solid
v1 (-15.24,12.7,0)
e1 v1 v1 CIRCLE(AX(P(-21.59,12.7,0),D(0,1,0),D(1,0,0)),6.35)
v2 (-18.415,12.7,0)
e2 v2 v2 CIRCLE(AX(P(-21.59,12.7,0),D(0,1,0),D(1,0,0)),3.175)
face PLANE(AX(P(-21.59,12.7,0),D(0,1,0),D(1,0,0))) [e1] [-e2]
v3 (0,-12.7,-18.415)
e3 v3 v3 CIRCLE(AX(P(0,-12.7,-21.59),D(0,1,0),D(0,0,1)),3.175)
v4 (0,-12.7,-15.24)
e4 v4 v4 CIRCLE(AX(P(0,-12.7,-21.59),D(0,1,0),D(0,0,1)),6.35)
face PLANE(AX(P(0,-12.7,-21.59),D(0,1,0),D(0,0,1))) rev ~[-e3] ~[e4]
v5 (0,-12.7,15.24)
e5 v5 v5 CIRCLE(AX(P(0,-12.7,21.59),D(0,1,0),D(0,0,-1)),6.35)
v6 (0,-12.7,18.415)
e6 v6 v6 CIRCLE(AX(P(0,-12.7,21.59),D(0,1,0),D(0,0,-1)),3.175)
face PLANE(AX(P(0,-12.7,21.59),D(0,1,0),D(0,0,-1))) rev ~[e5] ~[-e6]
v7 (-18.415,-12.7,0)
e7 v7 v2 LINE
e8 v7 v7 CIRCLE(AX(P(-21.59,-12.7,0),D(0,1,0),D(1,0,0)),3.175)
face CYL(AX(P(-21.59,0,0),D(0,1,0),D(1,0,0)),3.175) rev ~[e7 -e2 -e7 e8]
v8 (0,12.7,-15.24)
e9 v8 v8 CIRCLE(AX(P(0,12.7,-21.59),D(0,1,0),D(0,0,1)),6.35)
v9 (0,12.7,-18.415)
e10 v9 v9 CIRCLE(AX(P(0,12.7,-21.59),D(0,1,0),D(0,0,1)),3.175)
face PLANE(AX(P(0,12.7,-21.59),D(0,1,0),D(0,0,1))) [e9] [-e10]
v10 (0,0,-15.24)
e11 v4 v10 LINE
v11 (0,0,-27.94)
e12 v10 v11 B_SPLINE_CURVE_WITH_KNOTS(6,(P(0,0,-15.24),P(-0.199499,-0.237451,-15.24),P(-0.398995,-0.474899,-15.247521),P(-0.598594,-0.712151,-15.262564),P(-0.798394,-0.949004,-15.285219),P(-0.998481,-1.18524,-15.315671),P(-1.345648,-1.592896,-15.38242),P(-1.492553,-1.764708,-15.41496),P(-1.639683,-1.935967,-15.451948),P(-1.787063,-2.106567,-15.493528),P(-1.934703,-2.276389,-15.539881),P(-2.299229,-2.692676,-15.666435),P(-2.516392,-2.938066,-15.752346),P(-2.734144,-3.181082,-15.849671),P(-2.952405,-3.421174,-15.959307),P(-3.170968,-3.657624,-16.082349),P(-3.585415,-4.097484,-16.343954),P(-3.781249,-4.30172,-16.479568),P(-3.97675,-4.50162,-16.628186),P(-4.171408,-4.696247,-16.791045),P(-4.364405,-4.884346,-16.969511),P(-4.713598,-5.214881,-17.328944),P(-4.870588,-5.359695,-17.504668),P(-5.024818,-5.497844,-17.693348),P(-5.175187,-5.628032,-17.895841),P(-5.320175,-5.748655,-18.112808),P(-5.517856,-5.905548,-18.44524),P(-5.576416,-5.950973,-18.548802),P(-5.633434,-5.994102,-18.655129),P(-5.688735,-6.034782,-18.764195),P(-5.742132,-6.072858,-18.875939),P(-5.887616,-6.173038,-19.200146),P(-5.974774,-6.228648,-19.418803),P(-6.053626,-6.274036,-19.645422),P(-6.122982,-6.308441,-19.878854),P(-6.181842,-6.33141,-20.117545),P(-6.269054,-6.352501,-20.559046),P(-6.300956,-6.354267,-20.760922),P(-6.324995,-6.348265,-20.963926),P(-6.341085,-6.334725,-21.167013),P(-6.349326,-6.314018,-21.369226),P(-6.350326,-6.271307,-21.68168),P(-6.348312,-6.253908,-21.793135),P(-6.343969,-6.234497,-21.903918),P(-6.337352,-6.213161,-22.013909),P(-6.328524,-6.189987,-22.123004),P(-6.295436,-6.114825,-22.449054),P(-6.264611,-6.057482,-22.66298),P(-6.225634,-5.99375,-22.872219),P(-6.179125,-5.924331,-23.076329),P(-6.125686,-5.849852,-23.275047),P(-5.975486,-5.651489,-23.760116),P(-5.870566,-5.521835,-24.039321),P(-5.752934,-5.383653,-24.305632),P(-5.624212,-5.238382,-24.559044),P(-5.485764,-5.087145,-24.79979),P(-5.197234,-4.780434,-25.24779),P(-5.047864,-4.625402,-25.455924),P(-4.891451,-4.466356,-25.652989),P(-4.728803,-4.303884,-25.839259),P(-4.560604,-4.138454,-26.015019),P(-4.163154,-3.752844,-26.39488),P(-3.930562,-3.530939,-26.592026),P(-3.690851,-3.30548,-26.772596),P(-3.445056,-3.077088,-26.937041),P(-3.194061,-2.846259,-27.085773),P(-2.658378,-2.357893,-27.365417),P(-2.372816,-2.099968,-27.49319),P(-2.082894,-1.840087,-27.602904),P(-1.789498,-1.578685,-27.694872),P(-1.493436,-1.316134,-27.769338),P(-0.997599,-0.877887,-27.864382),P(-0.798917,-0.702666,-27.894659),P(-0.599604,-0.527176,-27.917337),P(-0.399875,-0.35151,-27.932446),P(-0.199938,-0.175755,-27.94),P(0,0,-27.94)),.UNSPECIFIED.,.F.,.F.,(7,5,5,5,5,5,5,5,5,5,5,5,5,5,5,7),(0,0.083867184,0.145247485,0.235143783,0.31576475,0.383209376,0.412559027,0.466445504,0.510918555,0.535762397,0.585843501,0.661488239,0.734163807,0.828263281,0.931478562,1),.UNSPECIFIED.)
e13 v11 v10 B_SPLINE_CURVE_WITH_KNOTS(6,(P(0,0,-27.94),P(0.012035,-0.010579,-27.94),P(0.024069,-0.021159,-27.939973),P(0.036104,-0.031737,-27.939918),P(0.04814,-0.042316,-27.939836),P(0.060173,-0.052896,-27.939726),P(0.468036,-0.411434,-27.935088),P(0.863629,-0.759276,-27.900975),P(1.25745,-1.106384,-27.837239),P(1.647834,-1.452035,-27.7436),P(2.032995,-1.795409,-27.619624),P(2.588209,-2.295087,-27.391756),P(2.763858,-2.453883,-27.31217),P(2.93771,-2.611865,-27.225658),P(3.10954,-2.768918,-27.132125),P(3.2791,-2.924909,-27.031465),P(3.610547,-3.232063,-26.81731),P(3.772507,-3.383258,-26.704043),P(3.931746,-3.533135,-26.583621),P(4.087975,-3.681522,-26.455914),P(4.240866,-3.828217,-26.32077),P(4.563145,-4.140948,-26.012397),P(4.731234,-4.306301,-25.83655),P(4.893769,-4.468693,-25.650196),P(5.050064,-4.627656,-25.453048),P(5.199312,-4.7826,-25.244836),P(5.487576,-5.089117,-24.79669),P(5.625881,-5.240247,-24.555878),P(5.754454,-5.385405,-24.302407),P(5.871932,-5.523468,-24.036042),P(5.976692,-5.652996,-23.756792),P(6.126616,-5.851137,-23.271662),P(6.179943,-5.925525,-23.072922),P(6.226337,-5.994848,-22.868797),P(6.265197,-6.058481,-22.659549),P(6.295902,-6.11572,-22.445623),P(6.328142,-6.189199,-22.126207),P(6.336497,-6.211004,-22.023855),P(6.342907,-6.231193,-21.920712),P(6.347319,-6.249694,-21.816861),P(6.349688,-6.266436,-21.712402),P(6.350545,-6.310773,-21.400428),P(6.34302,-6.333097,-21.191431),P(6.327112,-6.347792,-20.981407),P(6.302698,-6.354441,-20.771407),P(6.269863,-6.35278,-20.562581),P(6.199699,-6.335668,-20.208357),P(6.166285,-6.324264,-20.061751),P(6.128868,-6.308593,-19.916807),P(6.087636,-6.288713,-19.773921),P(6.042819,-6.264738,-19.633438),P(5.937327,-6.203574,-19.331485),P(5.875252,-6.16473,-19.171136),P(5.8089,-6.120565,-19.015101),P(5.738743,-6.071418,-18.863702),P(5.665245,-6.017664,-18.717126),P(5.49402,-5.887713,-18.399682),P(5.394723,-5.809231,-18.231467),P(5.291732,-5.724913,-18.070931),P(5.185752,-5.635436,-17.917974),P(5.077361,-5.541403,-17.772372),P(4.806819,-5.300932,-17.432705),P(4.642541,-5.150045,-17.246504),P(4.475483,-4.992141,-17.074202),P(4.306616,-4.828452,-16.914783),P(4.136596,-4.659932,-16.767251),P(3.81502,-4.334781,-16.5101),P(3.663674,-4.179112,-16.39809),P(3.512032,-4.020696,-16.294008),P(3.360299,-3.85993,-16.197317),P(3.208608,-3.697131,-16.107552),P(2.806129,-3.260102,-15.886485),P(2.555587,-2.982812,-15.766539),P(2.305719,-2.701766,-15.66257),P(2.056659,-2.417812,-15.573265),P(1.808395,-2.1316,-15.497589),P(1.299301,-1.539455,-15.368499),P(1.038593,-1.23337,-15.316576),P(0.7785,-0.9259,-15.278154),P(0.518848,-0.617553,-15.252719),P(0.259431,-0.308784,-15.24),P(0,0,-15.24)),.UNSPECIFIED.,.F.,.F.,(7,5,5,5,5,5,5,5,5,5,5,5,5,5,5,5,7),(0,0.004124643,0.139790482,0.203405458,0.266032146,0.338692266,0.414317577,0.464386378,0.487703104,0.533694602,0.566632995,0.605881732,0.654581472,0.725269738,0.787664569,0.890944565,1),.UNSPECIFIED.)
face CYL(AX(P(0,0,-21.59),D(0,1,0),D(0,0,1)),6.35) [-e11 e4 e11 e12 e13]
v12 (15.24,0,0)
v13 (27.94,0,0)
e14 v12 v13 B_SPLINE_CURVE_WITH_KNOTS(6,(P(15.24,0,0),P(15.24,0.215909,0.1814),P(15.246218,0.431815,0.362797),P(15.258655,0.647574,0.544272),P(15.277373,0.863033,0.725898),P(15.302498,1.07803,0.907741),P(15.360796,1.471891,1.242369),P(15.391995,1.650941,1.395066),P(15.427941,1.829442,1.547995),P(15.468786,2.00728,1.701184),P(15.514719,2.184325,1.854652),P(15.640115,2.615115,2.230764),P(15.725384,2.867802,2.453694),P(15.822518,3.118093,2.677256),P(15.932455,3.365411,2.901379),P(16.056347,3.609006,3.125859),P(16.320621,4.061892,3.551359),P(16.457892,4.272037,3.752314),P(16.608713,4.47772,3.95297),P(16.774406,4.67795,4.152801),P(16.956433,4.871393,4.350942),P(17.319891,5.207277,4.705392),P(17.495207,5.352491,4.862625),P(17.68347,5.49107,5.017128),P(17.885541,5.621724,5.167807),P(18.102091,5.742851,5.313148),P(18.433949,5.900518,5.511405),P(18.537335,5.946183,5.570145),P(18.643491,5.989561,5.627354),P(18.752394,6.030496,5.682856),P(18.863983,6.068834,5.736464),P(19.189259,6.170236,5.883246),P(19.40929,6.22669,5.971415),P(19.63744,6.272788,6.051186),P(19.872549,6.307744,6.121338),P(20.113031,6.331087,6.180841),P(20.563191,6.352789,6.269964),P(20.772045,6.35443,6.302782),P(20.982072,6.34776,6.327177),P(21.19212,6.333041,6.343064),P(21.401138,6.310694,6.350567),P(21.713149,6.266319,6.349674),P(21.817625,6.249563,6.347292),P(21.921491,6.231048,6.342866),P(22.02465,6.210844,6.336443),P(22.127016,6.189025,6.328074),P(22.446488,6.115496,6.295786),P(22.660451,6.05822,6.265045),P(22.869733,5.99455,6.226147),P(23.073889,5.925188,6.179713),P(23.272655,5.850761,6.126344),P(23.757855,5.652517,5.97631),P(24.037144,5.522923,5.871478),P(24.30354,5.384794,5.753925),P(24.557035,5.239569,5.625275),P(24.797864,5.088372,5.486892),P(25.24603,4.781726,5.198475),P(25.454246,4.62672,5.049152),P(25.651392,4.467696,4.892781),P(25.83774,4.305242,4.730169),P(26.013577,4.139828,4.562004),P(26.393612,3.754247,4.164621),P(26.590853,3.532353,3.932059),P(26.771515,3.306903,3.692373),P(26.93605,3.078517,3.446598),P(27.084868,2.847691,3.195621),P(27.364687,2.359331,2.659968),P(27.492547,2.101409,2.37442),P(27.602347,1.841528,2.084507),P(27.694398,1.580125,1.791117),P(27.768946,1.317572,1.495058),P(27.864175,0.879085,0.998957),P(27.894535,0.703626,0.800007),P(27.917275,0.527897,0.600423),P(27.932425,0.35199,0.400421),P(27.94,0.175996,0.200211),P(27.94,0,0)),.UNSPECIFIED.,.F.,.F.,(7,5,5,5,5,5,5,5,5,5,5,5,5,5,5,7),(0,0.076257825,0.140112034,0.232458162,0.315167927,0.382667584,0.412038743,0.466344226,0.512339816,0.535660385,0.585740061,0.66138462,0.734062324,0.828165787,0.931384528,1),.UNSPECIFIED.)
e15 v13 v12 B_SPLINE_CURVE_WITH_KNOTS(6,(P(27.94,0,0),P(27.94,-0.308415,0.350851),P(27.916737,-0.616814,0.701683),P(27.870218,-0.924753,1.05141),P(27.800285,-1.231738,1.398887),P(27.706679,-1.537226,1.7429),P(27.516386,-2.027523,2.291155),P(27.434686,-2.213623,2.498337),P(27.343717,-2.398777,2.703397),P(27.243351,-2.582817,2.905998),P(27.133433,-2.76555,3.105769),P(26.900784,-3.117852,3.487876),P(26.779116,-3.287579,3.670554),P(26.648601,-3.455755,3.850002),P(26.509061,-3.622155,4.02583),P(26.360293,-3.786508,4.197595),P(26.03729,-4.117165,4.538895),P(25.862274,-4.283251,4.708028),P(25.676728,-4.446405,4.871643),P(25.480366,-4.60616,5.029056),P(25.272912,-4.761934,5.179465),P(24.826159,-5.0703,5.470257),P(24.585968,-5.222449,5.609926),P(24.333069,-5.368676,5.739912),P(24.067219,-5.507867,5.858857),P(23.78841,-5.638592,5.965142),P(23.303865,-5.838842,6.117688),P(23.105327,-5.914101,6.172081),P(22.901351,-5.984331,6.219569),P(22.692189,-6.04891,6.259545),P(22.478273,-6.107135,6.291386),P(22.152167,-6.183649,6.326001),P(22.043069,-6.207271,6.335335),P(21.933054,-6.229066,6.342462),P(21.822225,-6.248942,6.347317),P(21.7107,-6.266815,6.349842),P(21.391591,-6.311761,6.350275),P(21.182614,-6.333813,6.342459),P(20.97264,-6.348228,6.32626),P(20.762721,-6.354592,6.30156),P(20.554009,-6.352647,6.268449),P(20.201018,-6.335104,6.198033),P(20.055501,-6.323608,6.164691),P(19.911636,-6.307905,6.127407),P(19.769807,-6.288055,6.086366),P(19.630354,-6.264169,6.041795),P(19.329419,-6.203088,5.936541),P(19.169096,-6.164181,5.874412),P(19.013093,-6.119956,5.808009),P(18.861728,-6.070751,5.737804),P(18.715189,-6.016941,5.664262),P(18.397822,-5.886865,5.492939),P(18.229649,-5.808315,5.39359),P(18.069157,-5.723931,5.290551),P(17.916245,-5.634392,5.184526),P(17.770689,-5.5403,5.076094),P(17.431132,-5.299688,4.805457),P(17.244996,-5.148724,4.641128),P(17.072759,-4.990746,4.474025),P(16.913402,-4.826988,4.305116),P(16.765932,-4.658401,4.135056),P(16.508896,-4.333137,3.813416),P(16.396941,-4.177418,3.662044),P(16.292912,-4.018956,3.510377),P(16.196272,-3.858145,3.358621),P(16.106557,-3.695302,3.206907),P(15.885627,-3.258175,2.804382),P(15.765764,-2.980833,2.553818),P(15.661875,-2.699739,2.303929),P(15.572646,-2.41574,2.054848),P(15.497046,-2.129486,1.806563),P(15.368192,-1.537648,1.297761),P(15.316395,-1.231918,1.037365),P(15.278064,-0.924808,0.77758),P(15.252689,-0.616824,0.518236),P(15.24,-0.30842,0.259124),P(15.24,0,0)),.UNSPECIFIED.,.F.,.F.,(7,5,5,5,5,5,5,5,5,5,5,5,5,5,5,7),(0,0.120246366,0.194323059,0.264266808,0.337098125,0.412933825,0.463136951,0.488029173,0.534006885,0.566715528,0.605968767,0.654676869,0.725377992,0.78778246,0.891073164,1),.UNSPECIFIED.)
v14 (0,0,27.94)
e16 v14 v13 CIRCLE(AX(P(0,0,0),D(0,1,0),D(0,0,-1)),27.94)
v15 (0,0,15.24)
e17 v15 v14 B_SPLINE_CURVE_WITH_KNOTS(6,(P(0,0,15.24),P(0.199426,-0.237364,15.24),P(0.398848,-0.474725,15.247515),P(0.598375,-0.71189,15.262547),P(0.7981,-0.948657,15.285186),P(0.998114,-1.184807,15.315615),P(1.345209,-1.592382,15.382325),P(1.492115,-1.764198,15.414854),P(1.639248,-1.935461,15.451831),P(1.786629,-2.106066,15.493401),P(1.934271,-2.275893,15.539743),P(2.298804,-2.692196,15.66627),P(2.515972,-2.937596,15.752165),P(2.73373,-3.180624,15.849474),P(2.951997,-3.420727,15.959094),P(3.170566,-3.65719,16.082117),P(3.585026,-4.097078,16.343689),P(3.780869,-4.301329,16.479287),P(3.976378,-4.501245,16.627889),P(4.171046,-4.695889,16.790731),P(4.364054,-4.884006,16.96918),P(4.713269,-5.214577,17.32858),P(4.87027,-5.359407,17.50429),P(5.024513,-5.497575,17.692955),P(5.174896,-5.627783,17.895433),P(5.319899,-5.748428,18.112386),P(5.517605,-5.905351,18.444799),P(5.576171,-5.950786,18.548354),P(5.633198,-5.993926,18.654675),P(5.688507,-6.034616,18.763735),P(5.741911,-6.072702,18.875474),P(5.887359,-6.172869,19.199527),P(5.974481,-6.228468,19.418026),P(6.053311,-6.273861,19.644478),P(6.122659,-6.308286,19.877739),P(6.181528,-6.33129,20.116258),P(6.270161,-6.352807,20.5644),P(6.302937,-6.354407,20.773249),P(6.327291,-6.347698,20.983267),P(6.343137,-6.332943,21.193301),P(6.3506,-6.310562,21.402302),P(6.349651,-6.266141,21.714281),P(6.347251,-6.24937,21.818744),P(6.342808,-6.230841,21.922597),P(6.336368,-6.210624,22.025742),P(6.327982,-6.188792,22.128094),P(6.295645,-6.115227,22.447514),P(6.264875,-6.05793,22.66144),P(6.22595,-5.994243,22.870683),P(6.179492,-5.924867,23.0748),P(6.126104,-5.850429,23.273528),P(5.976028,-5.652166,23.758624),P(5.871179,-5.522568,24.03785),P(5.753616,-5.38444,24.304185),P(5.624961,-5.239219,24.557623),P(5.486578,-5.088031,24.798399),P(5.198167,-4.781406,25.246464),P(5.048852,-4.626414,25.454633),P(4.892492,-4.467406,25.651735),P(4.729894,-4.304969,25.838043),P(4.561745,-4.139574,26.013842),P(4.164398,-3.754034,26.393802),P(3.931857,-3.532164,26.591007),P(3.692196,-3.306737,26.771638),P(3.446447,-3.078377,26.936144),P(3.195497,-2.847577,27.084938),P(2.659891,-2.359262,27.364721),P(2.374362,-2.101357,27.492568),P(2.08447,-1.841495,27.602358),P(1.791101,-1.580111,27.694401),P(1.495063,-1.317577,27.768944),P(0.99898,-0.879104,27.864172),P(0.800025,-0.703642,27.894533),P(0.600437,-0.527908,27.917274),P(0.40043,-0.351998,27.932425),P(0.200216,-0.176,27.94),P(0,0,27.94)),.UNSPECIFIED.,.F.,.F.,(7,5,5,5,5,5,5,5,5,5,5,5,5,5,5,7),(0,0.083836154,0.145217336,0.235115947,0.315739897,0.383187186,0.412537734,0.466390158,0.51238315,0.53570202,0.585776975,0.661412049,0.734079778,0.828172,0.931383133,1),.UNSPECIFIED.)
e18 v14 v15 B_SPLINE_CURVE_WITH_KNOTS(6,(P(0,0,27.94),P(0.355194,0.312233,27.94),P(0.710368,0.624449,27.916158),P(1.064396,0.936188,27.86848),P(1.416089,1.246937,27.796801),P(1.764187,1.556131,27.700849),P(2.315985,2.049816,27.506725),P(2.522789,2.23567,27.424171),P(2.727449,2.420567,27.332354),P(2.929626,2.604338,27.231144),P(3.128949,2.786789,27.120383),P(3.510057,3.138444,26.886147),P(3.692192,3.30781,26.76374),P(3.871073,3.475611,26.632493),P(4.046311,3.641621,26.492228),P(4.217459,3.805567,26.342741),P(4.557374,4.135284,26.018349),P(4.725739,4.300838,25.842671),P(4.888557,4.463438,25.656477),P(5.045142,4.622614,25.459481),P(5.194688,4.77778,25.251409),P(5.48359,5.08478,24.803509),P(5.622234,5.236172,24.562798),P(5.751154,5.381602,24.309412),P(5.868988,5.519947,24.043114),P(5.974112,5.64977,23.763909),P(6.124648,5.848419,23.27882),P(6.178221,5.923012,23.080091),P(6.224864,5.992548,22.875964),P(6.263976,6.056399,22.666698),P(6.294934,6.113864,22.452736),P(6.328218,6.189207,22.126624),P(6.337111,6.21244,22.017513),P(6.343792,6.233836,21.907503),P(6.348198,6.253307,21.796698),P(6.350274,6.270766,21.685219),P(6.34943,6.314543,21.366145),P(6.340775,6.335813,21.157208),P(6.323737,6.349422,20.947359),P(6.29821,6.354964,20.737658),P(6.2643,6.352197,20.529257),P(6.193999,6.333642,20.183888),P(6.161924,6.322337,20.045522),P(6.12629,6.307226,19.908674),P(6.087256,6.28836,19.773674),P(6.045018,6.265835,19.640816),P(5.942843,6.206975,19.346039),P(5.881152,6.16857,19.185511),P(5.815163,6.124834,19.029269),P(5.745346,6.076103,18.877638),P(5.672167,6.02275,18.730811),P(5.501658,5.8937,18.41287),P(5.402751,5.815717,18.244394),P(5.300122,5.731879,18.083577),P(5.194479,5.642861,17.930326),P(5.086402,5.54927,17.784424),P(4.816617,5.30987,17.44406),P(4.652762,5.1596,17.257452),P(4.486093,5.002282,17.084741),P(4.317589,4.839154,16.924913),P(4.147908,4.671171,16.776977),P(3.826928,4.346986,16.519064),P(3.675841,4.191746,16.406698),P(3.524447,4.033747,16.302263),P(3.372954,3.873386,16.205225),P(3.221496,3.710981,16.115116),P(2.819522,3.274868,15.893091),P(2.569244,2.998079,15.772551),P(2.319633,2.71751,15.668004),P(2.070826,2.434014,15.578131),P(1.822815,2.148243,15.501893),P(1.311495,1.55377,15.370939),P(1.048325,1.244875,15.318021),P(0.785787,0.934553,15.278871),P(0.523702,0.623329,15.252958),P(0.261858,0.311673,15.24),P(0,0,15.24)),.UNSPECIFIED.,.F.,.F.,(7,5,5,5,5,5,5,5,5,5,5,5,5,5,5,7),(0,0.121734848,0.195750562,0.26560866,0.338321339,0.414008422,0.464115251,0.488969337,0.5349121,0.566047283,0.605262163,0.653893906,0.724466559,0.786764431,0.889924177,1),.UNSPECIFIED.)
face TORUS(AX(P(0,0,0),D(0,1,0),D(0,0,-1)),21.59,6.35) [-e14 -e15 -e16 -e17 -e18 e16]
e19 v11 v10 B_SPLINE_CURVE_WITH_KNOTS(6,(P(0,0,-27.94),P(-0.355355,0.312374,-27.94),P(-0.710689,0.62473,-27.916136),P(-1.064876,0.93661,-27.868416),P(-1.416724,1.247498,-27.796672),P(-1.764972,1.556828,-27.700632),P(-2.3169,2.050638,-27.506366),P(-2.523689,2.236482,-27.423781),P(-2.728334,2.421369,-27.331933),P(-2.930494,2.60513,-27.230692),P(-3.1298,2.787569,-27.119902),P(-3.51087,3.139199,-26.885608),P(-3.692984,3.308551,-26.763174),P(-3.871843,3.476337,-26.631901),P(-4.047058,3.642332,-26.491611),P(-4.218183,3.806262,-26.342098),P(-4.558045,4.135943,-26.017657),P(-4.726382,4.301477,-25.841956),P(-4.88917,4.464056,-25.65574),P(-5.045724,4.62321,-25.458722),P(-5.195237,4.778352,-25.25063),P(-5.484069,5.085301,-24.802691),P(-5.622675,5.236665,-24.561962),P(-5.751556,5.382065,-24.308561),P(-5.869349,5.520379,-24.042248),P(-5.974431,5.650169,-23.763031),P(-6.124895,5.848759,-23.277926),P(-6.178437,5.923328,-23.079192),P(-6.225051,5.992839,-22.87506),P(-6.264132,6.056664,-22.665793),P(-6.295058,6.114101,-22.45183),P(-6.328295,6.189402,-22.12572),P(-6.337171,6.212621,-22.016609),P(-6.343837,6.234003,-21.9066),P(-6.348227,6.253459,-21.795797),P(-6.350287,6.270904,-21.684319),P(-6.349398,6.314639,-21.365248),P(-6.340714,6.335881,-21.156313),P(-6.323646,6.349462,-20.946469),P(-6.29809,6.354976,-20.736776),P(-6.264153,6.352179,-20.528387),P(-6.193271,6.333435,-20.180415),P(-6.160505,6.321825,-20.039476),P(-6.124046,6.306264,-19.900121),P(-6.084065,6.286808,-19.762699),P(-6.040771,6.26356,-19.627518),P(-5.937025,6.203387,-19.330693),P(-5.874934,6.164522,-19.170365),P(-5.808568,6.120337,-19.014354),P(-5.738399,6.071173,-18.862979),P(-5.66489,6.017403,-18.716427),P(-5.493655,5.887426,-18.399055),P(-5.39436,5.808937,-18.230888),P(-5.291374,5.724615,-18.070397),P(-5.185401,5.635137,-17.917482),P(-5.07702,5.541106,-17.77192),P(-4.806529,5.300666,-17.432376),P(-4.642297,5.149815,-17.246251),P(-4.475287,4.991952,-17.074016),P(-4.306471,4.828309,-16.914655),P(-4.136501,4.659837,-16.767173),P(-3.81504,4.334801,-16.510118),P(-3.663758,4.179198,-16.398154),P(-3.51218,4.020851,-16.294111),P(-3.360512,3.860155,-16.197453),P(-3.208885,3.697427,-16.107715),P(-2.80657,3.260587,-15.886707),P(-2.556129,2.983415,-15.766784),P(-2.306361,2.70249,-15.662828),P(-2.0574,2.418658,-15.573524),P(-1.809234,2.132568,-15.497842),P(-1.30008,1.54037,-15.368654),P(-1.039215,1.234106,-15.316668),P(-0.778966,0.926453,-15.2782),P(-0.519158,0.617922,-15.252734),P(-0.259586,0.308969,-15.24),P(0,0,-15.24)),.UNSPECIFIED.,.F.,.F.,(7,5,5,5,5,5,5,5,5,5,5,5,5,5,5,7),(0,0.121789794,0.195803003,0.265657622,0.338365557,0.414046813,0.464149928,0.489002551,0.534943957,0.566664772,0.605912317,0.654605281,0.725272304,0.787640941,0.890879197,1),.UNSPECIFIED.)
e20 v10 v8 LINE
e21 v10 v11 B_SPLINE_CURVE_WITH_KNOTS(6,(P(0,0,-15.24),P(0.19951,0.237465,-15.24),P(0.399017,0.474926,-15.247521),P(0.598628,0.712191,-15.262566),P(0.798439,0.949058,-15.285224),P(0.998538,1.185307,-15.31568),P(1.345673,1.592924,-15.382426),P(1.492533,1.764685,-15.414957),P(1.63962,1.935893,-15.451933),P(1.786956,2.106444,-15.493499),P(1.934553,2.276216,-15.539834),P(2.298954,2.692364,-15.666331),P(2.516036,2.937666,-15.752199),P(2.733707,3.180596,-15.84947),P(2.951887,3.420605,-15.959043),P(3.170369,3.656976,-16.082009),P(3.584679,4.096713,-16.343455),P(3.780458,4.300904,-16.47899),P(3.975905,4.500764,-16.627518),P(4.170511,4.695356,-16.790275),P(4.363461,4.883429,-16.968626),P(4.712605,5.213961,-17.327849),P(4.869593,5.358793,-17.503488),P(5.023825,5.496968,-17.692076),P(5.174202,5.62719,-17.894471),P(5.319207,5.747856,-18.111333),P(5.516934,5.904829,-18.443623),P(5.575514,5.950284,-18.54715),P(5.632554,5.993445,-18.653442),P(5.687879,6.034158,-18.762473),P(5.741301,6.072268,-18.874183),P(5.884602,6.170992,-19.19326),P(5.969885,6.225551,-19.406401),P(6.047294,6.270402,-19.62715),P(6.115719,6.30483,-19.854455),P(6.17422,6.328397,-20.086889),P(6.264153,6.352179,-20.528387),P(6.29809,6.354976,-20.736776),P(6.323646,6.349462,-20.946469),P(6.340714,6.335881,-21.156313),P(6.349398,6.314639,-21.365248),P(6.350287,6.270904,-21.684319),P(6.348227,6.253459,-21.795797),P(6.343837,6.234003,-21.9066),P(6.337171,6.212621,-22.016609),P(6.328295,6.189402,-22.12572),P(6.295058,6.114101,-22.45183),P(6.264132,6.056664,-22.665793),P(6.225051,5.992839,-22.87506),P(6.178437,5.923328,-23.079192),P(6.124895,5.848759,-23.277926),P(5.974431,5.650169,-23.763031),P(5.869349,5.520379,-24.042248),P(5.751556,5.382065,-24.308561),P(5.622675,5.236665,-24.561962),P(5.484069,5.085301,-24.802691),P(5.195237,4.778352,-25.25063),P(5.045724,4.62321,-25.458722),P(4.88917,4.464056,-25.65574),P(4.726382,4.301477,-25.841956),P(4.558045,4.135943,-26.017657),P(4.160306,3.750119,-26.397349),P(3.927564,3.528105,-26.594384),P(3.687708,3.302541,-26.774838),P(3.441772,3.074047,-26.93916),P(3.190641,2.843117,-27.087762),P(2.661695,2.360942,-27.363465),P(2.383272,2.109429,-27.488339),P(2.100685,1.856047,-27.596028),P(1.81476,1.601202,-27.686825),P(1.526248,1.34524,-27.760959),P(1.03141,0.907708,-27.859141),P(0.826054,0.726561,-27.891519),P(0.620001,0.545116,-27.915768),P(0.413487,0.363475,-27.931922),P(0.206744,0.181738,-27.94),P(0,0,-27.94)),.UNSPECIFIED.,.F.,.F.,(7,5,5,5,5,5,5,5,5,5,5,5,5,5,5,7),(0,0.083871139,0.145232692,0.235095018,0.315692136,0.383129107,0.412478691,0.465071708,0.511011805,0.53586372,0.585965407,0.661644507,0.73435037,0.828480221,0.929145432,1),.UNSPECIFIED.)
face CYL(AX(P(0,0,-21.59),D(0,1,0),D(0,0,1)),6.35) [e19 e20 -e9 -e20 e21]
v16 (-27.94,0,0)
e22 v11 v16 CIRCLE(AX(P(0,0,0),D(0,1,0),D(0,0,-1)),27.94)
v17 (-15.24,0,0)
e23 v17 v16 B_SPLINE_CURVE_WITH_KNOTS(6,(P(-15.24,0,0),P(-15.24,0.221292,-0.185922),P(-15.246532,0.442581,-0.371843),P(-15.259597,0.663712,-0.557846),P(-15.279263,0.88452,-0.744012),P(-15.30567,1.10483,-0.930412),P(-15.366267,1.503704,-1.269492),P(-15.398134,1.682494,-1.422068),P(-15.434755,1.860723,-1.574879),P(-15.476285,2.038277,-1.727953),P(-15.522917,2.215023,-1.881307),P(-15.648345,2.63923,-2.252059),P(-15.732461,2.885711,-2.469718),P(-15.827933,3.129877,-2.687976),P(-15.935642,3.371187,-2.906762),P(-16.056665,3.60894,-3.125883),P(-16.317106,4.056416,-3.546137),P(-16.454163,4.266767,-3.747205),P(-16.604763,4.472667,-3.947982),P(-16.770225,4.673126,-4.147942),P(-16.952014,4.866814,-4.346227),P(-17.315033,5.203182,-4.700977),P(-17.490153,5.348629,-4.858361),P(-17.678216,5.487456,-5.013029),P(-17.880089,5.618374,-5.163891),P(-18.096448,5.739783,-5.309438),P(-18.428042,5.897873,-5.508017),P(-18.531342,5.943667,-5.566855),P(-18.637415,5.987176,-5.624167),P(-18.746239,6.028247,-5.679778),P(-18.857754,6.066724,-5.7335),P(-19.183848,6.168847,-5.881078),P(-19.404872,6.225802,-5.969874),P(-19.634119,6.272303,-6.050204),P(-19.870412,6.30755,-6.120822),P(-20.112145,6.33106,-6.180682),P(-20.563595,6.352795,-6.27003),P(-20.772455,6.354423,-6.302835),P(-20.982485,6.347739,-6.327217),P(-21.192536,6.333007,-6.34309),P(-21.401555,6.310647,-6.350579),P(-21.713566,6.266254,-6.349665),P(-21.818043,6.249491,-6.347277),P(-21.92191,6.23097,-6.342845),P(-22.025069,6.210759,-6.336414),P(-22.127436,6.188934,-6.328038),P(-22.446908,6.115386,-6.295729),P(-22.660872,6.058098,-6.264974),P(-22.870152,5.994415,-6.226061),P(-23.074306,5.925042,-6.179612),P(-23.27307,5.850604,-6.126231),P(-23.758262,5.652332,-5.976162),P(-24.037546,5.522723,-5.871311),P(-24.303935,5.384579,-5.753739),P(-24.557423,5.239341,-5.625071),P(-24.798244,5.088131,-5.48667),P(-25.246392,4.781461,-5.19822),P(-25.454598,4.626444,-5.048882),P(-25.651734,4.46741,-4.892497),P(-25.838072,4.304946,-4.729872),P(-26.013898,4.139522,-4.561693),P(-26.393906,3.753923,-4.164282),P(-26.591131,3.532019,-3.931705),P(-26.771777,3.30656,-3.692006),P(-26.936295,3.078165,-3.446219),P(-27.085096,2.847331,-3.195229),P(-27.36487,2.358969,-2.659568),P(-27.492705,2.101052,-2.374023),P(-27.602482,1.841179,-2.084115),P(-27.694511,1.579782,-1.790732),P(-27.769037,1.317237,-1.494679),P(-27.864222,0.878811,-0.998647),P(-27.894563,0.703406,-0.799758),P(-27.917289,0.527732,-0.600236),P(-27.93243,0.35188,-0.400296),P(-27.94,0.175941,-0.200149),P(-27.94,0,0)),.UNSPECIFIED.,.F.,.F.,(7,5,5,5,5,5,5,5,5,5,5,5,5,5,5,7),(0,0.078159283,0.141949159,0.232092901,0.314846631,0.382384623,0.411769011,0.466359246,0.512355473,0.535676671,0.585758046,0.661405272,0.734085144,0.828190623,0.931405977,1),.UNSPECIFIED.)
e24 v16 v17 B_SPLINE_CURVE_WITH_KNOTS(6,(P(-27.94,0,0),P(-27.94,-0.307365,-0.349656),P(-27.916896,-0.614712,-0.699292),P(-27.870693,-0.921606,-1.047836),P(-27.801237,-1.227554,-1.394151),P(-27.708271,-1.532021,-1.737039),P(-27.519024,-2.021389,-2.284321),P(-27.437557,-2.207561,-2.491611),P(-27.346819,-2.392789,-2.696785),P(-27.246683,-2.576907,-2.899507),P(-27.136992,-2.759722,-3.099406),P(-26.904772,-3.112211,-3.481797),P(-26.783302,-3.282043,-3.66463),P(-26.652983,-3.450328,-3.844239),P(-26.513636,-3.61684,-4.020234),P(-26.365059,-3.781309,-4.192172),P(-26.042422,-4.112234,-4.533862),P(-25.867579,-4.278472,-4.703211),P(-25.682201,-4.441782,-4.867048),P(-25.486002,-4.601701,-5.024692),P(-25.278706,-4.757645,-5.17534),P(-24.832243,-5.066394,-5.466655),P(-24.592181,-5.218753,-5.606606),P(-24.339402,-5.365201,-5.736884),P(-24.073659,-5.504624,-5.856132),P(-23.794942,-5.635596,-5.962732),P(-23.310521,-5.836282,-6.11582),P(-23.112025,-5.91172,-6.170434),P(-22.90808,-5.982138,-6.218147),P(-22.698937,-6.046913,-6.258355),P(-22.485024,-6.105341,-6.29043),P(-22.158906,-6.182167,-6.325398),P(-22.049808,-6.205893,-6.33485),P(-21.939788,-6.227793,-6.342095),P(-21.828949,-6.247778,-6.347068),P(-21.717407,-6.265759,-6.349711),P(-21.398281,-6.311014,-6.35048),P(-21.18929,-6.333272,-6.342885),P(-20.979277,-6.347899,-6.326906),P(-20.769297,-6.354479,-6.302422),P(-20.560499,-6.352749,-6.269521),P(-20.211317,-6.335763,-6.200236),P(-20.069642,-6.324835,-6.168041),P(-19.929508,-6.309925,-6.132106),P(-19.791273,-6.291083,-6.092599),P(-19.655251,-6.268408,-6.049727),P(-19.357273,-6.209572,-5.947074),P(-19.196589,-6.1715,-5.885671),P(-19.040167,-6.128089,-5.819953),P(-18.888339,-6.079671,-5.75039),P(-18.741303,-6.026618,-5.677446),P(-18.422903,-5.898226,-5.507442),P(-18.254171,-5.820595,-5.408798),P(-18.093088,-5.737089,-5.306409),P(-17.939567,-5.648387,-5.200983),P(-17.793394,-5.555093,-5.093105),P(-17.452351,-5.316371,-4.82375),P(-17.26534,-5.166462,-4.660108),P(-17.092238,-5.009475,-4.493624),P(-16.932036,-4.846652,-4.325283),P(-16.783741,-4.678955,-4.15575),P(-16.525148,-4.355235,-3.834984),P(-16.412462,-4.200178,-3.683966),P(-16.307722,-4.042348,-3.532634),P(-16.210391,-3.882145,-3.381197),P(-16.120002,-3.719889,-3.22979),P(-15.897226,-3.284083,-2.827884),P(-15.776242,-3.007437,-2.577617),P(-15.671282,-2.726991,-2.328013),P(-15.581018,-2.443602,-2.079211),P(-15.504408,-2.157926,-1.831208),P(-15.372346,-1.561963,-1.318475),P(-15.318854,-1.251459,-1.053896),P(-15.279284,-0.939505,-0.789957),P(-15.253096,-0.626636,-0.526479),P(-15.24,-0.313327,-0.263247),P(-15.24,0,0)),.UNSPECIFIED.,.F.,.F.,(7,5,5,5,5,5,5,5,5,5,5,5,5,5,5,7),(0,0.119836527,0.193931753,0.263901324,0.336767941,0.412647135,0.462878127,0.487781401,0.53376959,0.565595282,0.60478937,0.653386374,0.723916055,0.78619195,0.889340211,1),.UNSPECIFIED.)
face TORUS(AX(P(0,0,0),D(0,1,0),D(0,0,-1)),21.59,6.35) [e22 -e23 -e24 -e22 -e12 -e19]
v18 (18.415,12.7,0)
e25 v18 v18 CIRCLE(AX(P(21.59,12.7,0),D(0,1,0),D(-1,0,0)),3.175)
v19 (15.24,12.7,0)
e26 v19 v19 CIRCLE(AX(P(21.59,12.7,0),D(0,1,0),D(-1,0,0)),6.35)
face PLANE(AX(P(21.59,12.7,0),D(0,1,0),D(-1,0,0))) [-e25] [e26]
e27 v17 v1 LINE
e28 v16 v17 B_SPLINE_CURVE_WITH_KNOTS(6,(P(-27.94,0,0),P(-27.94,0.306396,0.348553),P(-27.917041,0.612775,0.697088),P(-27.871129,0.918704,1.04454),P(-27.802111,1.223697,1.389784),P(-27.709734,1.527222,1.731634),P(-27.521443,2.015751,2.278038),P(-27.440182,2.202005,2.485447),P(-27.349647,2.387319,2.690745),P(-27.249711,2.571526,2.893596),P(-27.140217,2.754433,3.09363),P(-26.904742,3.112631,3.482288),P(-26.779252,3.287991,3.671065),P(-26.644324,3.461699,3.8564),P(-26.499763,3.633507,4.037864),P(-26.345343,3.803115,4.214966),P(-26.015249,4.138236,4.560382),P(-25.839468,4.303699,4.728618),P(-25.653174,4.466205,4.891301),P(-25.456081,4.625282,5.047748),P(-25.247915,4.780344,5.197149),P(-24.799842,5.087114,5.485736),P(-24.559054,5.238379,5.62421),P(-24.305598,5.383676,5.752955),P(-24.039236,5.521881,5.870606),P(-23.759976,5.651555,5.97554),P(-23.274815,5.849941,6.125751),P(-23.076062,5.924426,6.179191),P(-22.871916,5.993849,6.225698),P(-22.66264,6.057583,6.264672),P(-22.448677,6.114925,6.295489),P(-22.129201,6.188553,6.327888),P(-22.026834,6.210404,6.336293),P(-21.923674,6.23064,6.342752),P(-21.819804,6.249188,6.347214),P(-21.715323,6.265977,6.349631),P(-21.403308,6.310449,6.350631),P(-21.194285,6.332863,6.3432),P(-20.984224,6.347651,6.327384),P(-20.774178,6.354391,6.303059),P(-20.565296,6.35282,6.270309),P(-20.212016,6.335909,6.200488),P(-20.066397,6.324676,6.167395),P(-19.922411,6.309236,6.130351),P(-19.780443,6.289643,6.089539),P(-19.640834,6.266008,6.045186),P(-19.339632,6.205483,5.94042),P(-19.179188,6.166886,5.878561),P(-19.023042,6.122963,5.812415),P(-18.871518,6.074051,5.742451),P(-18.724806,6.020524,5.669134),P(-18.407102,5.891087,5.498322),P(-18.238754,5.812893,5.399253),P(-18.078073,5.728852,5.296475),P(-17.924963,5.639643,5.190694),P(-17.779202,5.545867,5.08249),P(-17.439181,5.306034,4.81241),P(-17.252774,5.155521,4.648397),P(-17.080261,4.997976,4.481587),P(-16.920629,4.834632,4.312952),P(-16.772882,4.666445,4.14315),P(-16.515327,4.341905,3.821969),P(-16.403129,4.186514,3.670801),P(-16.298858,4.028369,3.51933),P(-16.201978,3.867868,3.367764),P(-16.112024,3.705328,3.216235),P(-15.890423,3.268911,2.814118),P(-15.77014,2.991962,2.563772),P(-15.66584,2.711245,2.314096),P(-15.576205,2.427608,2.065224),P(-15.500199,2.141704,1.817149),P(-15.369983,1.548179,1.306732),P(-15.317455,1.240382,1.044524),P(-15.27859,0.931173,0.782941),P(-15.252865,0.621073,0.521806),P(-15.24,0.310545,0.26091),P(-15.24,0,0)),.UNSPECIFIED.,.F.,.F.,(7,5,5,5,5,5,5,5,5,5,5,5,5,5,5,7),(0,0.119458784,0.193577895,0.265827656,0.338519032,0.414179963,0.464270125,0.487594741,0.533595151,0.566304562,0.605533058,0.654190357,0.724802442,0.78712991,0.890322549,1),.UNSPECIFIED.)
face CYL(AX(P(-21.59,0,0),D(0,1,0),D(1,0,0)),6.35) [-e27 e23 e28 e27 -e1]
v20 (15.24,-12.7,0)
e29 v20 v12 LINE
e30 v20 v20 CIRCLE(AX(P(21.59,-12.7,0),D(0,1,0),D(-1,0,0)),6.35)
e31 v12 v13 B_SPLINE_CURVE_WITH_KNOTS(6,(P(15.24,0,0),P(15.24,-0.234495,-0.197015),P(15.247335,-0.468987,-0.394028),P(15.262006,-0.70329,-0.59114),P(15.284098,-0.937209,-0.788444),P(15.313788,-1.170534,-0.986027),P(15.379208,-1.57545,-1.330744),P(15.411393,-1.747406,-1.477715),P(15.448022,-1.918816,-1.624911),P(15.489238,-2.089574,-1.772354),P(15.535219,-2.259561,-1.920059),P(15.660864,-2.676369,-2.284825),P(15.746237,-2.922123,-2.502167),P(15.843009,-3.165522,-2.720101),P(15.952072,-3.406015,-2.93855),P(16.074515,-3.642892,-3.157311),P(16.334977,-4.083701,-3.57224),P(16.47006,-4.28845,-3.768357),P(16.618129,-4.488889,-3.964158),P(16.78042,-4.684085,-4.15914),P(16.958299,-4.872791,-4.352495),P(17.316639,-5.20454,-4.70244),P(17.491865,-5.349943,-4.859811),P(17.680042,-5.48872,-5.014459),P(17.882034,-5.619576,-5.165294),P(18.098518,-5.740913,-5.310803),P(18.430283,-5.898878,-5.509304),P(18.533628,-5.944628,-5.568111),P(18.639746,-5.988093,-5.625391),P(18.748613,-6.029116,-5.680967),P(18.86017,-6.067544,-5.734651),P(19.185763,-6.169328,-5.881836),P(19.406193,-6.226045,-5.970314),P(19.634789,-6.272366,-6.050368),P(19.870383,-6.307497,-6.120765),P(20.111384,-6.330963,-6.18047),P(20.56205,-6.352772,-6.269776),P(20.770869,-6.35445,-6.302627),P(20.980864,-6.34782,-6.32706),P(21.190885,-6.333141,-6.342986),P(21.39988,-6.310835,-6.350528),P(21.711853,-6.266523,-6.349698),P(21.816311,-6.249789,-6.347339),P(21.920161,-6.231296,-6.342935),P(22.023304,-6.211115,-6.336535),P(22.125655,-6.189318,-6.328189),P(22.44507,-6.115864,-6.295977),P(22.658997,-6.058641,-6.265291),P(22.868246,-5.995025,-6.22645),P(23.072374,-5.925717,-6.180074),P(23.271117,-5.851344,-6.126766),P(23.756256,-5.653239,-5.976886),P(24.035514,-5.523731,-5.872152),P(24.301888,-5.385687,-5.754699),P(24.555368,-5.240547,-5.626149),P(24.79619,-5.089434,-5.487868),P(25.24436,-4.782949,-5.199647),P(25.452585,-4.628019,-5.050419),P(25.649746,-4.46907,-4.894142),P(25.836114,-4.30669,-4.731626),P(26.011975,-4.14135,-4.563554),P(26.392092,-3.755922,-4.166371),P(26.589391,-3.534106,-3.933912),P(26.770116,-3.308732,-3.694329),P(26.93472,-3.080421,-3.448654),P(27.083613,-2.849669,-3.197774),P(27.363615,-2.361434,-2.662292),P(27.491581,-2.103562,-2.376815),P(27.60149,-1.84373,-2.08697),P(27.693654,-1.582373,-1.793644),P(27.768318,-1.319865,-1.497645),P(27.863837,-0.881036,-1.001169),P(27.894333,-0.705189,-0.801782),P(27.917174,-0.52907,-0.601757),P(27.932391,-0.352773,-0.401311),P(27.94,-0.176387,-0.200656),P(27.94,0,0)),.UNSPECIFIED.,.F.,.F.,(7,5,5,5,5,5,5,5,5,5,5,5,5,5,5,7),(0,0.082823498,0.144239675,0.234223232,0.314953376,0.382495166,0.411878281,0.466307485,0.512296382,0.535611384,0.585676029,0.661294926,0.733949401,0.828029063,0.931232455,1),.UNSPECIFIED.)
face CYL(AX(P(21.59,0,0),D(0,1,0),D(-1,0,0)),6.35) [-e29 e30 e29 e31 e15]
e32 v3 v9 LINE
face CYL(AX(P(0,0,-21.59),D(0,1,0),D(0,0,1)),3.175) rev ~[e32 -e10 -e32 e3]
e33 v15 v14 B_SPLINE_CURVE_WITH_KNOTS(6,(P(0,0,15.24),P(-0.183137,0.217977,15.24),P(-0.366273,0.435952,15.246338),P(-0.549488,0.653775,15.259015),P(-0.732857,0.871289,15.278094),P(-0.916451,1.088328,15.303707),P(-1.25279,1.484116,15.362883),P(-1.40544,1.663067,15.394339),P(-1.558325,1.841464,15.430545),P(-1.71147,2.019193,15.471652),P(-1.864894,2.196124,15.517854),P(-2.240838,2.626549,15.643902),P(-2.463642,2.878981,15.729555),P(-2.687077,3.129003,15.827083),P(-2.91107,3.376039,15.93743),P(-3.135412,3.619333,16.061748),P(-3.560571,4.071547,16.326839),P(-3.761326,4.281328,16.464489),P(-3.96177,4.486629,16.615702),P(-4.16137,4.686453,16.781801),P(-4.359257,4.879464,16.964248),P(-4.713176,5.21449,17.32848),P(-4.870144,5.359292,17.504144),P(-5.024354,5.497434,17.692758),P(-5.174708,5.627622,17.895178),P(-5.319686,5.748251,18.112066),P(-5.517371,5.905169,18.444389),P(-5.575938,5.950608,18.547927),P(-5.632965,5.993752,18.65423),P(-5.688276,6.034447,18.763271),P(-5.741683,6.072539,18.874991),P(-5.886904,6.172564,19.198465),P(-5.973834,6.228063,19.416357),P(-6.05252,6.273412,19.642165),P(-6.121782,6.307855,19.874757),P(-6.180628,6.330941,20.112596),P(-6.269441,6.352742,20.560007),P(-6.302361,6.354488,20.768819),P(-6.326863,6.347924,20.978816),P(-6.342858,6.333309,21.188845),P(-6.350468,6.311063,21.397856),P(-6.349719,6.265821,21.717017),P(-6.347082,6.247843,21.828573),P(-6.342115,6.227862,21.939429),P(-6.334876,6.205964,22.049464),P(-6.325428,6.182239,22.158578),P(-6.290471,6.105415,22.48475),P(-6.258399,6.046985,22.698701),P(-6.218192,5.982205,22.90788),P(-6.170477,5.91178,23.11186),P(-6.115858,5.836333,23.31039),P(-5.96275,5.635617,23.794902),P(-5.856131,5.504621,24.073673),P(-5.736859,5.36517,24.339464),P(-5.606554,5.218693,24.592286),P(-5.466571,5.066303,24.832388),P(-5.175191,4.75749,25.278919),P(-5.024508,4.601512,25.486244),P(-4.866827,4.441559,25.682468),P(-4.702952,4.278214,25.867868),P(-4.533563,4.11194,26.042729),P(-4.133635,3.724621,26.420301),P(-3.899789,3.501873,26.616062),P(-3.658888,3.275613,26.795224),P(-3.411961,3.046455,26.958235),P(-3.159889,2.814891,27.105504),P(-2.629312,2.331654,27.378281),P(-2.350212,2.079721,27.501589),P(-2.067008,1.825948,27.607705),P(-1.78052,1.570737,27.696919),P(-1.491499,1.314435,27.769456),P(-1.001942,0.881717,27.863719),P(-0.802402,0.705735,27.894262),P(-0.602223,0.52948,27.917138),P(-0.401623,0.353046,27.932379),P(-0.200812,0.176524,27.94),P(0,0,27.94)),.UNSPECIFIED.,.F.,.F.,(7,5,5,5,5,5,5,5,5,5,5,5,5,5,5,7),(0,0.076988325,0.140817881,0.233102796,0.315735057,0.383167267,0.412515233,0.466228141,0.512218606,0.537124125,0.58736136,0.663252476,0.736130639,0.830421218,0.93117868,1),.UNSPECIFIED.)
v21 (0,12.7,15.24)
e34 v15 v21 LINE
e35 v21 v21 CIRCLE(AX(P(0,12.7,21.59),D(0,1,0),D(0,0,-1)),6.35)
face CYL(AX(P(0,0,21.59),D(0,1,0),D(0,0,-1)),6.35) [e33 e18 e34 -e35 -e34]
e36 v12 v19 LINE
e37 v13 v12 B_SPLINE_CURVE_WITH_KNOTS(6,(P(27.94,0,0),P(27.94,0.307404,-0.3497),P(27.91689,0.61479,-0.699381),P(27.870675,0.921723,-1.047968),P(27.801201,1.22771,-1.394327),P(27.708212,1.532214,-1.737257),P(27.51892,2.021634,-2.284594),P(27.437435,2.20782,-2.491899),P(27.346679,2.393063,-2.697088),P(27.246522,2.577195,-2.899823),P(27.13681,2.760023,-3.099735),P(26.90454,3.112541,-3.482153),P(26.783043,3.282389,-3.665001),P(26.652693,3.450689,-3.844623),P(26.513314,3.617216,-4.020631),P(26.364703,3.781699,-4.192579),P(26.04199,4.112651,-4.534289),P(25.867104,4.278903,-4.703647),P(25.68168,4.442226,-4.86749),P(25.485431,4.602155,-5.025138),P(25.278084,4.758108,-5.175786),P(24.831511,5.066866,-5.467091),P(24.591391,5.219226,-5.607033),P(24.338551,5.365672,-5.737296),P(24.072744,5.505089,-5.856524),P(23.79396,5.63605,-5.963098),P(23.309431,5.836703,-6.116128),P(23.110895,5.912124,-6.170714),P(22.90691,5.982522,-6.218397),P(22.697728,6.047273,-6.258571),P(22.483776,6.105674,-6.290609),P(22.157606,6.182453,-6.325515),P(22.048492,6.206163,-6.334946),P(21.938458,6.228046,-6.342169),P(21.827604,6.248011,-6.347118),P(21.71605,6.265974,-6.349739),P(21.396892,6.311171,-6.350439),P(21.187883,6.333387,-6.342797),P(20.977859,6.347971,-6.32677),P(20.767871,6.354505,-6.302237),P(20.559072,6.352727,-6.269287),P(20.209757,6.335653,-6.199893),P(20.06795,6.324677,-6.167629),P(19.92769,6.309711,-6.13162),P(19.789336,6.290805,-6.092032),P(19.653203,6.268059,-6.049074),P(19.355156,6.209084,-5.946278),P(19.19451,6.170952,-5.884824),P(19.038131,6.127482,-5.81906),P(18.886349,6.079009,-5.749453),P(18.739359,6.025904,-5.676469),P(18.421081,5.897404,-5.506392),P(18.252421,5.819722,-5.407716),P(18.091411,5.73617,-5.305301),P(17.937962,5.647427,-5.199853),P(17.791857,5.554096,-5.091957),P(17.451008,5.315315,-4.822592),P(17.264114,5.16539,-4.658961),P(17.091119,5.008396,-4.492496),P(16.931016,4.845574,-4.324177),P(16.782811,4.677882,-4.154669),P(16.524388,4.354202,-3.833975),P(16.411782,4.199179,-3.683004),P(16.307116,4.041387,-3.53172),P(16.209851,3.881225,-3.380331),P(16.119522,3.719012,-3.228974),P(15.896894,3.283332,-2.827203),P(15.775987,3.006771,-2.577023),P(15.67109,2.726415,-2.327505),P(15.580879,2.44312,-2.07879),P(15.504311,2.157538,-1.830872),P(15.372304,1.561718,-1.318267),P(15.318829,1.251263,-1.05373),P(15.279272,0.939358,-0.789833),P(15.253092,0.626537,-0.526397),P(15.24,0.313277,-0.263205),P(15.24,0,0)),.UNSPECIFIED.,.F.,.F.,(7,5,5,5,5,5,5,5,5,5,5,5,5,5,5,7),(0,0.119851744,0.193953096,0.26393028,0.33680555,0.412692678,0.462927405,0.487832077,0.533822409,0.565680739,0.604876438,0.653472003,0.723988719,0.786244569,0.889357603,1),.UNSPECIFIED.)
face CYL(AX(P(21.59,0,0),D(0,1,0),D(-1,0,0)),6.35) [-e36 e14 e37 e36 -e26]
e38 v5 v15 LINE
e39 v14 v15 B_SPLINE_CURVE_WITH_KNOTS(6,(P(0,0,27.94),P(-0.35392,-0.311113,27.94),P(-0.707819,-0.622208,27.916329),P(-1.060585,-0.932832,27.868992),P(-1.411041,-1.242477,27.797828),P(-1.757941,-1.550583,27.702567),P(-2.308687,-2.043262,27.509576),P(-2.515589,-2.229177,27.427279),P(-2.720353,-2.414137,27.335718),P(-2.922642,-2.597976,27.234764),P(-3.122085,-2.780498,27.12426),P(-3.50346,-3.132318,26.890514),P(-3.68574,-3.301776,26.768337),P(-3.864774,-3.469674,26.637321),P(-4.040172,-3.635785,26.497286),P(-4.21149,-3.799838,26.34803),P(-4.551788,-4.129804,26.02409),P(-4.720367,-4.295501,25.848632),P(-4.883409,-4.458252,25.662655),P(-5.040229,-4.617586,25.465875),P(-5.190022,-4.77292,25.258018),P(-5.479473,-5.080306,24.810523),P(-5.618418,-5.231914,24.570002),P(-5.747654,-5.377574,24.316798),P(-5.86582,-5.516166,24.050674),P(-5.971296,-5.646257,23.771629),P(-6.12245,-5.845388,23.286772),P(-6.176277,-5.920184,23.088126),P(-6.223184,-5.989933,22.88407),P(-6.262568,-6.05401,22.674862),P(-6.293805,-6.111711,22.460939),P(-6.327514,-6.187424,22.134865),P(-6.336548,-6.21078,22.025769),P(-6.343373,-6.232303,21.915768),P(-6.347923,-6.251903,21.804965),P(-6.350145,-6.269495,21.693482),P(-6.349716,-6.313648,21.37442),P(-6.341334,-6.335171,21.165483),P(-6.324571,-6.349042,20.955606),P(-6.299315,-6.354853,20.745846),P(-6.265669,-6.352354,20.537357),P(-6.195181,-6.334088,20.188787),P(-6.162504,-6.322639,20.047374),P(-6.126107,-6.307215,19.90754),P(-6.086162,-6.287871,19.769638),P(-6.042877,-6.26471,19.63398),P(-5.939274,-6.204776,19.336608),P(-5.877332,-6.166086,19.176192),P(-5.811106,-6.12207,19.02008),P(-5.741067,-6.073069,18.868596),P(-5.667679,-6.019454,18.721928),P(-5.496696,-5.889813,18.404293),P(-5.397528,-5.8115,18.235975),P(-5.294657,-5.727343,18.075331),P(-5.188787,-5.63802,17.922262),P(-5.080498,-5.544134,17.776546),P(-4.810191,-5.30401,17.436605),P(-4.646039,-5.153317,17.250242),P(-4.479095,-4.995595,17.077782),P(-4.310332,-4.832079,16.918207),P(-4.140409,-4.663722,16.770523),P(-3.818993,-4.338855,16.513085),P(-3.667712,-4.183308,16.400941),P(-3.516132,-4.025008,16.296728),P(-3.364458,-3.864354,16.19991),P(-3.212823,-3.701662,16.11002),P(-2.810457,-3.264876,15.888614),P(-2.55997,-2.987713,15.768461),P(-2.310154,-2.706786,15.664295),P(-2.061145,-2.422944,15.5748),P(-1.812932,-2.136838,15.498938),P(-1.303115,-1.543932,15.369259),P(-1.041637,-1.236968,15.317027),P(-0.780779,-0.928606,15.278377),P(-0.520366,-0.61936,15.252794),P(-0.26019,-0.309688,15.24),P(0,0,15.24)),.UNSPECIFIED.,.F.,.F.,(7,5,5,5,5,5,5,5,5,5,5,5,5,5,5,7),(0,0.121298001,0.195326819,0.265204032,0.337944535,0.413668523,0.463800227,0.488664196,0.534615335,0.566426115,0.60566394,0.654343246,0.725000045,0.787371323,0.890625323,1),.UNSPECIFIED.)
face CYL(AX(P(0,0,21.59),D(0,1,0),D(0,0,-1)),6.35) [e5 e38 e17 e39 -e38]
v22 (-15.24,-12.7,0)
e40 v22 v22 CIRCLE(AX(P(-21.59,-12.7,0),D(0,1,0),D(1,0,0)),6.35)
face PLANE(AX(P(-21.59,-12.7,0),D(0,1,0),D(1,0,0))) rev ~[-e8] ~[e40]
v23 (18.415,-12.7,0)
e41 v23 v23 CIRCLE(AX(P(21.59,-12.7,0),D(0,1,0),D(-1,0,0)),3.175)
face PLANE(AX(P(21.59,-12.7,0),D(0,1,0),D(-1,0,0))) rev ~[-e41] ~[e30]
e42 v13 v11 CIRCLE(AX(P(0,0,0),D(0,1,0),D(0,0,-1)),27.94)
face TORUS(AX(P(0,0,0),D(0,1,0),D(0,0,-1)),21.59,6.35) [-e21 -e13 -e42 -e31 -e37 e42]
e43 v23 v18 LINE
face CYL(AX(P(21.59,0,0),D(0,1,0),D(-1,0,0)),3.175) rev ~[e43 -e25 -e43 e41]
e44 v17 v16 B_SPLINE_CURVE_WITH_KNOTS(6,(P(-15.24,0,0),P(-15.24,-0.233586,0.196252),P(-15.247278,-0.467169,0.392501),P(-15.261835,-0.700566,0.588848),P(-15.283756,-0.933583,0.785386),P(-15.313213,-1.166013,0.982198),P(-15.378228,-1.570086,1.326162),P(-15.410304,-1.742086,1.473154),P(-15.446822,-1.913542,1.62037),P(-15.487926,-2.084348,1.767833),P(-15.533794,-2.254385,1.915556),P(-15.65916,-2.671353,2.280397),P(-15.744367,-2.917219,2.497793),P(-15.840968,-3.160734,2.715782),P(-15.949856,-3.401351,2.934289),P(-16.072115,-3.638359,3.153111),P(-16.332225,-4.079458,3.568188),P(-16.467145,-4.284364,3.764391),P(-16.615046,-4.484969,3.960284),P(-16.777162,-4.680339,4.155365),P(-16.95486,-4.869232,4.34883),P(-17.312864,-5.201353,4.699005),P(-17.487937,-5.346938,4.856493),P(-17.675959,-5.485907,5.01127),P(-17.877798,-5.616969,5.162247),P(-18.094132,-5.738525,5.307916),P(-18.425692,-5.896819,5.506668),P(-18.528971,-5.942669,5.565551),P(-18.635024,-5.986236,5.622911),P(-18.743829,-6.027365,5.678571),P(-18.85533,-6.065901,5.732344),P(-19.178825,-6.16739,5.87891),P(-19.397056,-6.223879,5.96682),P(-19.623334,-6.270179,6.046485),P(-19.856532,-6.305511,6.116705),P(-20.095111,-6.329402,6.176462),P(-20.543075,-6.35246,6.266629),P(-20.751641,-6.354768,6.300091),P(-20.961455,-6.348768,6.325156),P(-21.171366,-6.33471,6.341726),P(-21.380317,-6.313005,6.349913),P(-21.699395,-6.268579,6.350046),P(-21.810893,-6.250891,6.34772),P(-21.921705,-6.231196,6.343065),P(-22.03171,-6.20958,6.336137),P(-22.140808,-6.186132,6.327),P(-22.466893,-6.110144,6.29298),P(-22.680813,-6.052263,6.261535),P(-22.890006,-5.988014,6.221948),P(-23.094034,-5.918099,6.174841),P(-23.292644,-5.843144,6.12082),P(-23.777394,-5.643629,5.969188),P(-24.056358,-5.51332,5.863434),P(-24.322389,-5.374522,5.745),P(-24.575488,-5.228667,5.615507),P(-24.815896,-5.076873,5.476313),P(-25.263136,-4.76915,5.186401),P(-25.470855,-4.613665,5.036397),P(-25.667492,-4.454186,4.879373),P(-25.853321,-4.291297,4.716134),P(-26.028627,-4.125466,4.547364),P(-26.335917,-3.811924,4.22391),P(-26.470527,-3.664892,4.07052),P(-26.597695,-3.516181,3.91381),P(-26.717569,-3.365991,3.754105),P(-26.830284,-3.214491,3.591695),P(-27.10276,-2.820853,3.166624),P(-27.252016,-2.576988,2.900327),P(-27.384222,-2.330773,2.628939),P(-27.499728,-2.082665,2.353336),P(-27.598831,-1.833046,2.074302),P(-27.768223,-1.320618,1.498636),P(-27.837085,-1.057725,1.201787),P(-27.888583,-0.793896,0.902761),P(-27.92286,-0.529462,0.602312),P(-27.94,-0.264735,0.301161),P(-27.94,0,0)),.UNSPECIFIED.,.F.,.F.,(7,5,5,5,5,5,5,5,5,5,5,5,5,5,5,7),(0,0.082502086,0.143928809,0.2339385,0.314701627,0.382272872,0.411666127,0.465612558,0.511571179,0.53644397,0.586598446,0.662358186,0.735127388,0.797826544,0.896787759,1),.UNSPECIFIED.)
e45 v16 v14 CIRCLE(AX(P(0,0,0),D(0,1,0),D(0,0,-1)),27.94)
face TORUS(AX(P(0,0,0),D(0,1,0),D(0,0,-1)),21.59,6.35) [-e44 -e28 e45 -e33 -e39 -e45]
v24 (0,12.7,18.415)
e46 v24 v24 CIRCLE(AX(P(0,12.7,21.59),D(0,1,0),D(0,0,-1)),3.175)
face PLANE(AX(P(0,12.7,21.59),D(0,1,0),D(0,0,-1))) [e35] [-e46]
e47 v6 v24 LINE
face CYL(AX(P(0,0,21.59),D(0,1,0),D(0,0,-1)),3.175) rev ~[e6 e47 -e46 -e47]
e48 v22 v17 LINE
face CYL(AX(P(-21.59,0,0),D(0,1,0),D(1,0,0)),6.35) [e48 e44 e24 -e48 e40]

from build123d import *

# Parameters (mm, degrees)
SKETCH2_R                     = 6.35
SKETCH4_R                     = 6.35
COLUMN_DEPTH                  = 12.7
SKETCH5_R                     = 3.175
FASTENER_HOLE_CUT_DEPTH       = 42.503942147
COLUMN_AND_HOLE_PATTERN_COUNT = 4


with BuildPart() as part:
    # Sketch2 → Base Revolve (revolve)
    with BuildSketch(Plane.XY, mode=Mode.PRIVATE) as base_revolve_sk:
        with Locations((21.59, 0)):
            Circle(SKETCH2_R)
    revolve(base_revolve_sk.sketch.rotate(Axis((0, 0, 0), (0, 1, 0)), 90), axis=Axis((0, 0, 0), (0, 1, 0)))

    # Sketch4 → Column (add, symmetric)
    with BuildSketch(Plane(origin=(0, 0, 0), x_dir=(1, 0, 0), z_dir=(0, 1, 0))):
        with Locations(Location((0, 21.59, 0), (0, 0, 270))):
            Circle(SKETCH4_R)
    column = extrude(amount=COLUMN_DEPTH, both=True)

    # Sketch5 → Fastener Hole Cut (cut, symmetric)
    with BuildSketch(Plane(origin=(0, 0, 0), x_dir=(1, 0, 0), z_dir=(0, 1, 0))):
        with Locations(Location((0, 21.59, 0), (0, 0, 270))):
            Circle(SKETCH5_R)
    fastener_hole_cut = extrude(amount=FASTENER_HOLE_CUT_DEPTH, both=True, mode=Mode.SUBTRACT)

    # Column and Hole Pattern: Column, Fastener Hole Cut ×4 about axis
    column_and_hole_pattern_axis = Axis((0, 0, 0), (0, 1, 0))
    add([column.rotate(column_and_hole_pattern_axis, i * 360 / COLUMN_AND_HOLE_PATTERN_COUNT) for i in range(1, COLUMN_AND_HOLE_PATTERN_COUNT)])
    add([fastener_hole_cut.rotate(column_and_hole_pattern_axis, i * 360 / COLUMN_AND_HOLE_PATTERN_COUNT) for i in range(1, COLUMN_AND_HOLE_PATTERN_COUNT)], mode=Mode.SUBTRACT)


solid = part.part
